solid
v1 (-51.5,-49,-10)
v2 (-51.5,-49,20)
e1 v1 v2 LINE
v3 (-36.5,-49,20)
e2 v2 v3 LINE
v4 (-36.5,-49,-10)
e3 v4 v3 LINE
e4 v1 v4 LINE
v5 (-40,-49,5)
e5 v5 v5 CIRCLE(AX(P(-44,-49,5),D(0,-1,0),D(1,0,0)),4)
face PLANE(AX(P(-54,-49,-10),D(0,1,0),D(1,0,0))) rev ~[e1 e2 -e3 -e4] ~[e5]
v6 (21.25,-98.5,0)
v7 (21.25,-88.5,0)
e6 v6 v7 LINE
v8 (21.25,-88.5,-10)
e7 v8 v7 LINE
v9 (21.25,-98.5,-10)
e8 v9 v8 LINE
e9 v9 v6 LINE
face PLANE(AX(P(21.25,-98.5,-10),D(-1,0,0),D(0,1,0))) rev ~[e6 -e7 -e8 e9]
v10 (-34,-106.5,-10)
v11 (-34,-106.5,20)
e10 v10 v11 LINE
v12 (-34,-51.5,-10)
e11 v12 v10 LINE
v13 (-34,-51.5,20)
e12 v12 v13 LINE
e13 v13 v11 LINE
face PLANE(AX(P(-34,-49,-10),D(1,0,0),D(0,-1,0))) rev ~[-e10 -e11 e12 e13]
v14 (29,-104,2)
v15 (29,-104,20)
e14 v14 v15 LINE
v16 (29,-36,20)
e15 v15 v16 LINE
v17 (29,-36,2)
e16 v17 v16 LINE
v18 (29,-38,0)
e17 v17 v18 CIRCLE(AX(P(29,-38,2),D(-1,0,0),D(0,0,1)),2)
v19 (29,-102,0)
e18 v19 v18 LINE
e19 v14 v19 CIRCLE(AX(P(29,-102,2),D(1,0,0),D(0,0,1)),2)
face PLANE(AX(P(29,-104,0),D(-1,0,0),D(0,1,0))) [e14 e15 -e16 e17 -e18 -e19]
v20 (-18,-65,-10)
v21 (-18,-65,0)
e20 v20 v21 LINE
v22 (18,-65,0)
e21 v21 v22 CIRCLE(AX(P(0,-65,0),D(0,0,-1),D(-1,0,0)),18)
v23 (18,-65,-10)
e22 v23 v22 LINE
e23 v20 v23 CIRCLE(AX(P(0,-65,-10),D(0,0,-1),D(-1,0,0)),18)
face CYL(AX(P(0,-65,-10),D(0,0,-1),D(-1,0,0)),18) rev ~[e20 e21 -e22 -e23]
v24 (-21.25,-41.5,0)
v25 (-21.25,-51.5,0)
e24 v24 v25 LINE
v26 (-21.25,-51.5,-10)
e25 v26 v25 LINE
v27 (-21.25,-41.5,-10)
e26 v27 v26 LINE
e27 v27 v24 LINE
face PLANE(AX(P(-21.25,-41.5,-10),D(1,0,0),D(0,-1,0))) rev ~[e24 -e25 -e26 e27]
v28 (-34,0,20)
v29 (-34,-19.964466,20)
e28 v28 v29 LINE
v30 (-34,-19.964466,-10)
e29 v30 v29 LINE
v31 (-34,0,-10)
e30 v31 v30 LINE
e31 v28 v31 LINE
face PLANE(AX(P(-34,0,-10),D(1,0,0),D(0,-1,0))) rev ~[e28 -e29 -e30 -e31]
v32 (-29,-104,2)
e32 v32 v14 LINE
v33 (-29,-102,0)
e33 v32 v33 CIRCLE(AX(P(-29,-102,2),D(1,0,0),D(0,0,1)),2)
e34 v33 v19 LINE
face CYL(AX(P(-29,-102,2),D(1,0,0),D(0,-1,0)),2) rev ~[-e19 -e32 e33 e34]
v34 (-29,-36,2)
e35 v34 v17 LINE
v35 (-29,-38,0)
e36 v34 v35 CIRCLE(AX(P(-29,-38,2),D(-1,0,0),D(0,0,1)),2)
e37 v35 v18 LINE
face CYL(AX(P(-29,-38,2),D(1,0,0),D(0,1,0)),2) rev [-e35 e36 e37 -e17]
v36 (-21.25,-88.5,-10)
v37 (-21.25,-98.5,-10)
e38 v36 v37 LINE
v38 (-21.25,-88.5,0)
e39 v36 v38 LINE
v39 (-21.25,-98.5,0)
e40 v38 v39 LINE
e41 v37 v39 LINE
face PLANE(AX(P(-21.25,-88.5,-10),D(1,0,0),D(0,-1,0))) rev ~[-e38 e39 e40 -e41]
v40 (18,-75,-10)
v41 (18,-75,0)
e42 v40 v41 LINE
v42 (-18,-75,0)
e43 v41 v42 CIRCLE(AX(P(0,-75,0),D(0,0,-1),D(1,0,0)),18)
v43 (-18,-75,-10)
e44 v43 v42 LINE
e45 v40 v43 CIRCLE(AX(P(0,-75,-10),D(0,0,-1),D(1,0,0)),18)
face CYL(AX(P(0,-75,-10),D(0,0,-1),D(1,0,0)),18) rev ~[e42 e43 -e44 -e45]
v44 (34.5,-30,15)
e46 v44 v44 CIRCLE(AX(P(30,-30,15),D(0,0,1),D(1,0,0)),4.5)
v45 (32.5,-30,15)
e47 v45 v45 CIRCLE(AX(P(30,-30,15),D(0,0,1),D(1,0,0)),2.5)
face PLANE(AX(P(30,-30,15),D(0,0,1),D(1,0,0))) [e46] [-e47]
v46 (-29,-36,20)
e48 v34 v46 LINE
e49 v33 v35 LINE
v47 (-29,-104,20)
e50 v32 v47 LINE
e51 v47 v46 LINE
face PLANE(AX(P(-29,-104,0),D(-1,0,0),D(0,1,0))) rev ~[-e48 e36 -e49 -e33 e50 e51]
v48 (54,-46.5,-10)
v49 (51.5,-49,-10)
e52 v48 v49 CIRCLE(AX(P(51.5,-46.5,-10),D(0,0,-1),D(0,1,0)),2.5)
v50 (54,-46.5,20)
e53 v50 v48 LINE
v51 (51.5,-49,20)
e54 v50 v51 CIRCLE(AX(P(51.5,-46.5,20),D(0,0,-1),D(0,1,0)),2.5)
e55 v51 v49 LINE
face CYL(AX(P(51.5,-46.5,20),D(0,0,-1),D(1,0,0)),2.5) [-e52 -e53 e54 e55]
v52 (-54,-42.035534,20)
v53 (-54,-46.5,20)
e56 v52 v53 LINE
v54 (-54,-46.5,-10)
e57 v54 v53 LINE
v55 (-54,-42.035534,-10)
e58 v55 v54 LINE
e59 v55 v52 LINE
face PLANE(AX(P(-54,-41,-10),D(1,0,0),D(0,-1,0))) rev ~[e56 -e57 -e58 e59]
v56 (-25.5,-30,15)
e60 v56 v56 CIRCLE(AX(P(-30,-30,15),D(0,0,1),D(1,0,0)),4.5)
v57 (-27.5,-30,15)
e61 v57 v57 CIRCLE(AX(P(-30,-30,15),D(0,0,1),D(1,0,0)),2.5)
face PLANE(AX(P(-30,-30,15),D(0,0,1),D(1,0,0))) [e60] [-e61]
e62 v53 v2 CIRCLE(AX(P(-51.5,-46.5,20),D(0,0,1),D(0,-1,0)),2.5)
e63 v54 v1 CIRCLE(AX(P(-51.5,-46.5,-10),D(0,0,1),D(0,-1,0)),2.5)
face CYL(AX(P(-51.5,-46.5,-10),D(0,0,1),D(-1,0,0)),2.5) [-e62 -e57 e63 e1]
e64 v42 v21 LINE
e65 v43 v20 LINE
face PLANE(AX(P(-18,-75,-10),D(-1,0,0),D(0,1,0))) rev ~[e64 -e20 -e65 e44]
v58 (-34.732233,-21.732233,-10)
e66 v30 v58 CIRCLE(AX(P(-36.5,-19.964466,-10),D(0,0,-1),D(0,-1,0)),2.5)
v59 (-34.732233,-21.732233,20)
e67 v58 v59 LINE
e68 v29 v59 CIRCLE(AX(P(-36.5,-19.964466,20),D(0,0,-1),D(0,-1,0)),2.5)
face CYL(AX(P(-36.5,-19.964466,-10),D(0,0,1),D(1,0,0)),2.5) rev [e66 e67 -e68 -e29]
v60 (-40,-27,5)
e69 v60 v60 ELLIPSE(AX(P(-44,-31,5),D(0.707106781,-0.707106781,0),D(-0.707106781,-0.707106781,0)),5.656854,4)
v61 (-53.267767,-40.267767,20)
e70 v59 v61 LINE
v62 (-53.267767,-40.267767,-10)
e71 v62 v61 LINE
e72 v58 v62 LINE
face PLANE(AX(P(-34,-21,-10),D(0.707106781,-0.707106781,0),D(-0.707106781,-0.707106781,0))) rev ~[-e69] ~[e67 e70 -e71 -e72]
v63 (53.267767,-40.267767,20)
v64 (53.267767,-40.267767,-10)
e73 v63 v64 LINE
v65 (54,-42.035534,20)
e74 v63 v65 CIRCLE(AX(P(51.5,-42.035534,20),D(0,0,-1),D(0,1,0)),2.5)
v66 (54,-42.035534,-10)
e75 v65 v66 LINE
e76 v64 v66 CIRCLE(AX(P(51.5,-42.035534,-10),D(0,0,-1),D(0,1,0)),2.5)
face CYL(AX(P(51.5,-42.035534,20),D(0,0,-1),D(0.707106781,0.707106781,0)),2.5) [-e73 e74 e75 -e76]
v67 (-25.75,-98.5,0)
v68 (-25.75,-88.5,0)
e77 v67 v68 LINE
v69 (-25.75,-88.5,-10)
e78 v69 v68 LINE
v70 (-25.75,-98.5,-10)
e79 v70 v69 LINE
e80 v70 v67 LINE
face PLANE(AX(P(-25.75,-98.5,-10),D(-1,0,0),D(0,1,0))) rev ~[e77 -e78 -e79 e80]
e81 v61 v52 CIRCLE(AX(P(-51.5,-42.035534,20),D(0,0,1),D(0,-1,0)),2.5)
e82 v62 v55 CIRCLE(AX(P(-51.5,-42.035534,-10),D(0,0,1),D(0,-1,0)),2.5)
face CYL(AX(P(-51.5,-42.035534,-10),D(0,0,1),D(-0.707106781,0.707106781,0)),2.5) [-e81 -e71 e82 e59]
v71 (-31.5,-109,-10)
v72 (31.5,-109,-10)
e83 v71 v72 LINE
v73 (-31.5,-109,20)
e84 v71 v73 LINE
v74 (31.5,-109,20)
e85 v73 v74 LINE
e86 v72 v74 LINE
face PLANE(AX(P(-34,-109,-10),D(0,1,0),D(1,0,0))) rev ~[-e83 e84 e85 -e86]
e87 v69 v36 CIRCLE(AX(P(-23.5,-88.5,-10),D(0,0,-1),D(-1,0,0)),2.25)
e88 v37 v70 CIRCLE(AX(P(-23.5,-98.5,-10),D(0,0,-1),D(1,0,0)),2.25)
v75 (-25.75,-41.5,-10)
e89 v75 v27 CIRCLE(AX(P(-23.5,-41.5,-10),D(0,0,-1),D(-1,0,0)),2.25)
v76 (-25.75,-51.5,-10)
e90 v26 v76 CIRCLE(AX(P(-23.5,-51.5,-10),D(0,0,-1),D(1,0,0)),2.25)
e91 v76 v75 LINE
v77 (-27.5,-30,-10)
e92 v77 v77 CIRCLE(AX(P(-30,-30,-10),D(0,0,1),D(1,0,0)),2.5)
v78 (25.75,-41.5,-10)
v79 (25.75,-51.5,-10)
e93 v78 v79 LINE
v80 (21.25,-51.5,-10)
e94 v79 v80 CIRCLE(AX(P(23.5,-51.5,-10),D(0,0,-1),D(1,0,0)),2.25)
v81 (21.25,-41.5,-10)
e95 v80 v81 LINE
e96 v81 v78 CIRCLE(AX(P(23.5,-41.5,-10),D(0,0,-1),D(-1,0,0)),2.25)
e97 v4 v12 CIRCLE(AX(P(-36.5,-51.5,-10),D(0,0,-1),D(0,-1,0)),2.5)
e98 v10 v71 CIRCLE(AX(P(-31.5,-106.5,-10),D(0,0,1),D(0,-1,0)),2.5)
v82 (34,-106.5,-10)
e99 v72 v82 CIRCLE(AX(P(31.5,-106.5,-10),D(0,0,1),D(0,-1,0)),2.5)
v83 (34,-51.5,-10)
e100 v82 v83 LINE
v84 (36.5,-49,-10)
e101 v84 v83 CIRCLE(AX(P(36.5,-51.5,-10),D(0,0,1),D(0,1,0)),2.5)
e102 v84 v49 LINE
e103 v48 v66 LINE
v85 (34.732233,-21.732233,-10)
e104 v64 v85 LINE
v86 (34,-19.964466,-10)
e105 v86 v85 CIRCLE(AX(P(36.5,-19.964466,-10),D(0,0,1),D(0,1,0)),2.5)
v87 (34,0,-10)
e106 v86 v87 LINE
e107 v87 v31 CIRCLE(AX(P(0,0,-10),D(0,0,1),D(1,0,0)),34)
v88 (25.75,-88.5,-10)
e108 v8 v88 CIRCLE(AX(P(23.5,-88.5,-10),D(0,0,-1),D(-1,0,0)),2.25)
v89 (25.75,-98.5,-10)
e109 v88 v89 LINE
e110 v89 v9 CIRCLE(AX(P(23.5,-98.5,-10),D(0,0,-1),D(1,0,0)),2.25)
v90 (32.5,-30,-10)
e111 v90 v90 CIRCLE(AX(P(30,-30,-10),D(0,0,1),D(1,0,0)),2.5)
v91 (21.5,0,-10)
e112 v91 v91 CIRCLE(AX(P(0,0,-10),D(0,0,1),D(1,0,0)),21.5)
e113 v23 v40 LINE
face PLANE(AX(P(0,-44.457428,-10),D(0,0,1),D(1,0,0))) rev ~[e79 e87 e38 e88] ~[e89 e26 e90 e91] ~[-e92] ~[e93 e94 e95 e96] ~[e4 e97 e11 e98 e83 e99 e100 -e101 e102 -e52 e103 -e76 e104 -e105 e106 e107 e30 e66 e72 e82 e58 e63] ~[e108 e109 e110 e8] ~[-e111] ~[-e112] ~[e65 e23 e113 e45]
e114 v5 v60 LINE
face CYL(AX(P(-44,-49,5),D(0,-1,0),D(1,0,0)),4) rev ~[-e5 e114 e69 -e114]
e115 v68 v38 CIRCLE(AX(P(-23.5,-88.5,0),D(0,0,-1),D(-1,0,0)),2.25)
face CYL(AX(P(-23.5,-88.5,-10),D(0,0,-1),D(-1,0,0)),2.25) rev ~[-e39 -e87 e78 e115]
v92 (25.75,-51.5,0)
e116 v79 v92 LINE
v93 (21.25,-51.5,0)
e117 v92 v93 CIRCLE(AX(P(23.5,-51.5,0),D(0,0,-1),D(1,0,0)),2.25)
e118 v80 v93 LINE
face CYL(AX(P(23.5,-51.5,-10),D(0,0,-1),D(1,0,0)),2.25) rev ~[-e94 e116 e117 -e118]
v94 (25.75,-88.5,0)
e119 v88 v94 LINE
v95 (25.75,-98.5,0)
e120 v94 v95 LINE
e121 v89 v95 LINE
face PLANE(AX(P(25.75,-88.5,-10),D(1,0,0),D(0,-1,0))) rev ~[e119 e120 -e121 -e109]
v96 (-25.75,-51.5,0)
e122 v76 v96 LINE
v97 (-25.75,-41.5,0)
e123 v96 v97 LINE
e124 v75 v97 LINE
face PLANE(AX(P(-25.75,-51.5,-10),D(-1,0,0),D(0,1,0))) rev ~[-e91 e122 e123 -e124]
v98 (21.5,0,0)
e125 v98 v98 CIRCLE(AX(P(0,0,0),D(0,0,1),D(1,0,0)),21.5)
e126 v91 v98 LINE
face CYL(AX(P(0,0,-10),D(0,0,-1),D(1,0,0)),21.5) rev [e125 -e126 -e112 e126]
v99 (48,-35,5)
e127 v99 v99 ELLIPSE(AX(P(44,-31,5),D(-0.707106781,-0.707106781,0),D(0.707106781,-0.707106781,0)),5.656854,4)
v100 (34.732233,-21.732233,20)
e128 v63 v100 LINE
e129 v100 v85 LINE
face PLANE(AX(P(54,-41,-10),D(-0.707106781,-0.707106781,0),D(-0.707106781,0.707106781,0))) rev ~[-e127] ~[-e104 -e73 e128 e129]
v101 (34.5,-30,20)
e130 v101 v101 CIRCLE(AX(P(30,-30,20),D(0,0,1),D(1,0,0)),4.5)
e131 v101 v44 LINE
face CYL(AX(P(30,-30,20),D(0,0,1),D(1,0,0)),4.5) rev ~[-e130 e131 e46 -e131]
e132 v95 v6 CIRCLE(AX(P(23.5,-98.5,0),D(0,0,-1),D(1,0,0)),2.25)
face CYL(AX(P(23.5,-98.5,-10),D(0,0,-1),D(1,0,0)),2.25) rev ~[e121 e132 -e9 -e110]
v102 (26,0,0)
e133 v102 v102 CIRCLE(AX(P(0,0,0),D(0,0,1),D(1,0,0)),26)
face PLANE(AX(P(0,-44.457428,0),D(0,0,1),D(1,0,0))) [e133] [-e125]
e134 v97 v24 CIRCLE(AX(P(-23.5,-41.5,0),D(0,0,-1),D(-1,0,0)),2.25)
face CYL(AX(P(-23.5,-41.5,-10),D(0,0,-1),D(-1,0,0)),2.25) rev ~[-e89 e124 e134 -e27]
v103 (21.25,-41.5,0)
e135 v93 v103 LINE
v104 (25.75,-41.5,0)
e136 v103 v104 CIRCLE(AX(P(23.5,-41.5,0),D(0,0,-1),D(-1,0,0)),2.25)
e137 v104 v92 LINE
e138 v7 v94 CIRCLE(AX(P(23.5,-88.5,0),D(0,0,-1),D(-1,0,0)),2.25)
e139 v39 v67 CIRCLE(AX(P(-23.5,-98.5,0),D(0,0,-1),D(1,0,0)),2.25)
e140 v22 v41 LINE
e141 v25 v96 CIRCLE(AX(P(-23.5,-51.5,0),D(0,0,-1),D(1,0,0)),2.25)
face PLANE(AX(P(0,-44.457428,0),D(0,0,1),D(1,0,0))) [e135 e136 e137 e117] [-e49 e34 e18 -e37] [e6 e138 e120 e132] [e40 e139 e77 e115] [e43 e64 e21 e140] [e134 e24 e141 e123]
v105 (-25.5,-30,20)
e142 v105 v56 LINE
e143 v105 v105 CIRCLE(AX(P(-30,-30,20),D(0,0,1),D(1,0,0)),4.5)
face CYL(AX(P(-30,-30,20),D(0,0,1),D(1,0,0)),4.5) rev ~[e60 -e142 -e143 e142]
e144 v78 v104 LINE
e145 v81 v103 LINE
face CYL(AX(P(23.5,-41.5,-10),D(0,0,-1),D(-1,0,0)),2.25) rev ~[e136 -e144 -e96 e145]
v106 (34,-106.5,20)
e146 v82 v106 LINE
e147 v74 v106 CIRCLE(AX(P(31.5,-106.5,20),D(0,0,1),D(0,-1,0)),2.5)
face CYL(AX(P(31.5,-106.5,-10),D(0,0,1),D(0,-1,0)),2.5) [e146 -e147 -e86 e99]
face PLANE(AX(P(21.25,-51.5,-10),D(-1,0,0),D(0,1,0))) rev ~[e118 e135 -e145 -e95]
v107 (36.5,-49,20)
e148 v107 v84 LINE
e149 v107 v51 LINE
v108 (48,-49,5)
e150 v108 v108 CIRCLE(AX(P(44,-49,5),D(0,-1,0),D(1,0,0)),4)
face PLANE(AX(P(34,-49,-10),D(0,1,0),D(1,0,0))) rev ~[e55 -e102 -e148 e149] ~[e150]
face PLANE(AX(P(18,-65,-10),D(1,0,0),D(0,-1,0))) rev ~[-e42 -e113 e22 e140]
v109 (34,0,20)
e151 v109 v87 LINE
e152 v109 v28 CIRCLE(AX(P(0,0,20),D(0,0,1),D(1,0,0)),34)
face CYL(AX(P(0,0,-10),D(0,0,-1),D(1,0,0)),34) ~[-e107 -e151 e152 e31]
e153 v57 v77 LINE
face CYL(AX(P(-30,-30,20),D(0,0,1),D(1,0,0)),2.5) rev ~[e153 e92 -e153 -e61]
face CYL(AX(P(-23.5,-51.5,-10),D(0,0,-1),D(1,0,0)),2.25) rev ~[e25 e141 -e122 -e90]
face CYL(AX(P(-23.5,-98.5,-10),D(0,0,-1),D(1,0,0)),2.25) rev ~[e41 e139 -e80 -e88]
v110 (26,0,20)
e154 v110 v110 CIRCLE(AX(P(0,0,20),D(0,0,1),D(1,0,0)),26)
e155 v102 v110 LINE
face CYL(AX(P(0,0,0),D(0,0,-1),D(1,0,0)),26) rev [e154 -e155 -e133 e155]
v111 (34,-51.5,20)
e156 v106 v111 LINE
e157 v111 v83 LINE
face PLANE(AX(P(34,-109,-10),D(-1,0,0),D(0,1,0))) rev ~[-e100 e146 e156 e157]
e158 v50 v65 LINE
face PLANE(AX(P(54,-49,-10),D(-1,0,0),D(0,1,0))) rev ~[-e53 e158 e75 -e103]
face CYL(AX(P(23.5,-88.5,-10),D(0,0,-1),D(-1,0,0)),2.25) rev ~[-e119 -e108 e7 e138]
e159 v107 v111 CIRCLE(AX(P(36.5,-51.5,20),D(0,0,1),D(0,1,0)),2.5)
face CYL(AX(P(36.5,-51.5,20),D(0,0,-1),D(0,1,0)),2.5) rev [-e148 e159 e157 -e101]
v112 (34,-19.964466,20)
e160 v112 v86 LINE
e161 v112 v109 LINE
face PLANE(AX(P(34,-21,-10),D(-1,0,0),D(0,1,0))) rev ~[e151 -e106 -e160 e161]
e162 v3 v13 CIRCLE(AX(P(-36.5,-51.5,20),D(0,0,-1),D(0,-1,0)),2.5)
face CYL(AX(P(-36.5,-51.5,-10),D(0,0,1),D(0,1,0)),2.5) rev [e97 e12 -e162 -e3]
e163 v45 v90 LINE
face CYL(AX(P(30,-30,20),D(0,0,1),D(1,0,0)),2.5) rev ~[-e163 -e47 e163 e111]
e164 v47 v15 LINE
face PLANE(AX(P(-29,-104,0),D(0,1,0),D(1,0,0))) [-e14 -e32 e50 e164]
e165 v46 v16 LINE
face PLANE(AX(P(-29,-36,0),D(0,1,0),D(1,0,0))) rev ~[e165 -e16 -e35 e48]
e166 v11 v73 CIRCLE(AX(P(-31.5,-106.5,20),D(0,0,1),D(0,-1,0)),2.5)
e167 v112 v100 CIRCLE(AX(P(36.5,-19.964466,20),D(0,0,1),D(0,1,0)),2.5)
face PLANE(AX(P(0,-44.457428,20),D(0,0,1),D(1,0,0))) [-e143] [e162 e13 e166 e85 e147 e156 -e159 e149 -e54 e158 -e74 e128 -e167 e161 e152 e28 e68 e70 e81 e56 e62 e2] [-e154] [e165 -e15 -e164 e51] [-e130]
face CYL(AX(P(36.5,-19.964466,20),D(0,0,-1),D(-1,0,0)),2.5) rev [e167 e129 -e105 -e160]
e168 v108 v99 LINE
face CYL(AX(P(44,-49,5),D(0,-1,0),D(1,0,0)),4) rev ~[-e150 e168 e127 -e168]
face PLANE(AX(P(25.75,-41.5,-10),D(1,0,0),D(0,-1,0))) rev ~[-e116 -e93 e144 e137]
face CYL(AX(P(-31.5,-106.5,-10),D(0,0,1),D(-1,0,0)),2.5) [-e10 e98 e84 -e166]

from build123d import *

# Parameters (mm, degrees)
ESQUISSE1_R             = 26
ESQUISSE1_W             = 58
ESQUISSE1_H             = 68
BOSS_EXTRU_1_DEPTH      = 20
BOSS_EXTRU_2_START      = -10
ESQUISSE1_4_R           = 21.5
BOSS_EXTRU_2_DEPTH      = 10
ESQUISSE2_R             = 4
ENL_V_MAT_EXTRU_2_DEPTH = 102.019800039
CONG_1_R                = 2.5
ESQUISSE3_R             = 2.5
ENL_V_MAT_EXTRU_3_DEPTH = 126.287668986
ESQUISSE3_3_R           = 4.5
ESQUISSE3_3_R_2         = 2.5
ENL_V_MAT_EXTRU_4_DEPTH = 5
CONG_3_R                = 2


with BuildPart() as part:
    # Esquisse1 → Boss.-Extru.1 (new body)
    with BuildSketch(Plane.XY):
        with BuildLine():
            Line((-34, 0), (-34, -21))
            Line((-34, -21), (-54, -41))
            Line((-54, -41), (-54, -49))
            Line((-54, -49), (-34, -49))
            Line((-34, -49), (-34, -109))
            Line((-34, -109), (34, -109))
            Line((34, -109), (34, -49))
            Line((34, -49), (54, -49))
            Line((54, -49), (54, -41))
            Line((54, -41), (34, -21))
            Line((34, -21), (34, 0))
            ThreePointArc((34, 0), (0, 34), (-34, 0))
        make_face()
        Circle(ESQUISSE1_R, mode=Mode.SUBTRACT)
        with Locations((0, -70)):
            Rectangle(ESQUISSE1_W, ESQUISSE1_H, mode=Mode.SUBTRACT)
    extrude(amount=BOSS_EXTRU_1_DEPTH)

    # Esquisse1_4 → Boss.-Extru.2 (add)
    with BuildSketch(Plane.XY.offset(BOSS_EXTRU_2_START)):
        with BuildLine():
            Line((-34, 0), (-34, -21))
            Line((-34, -21), (-54, -41))
            Line((-54, -41), (-54, -49))
            Line((-54, -49), (-34, -49))
            Line((-34, -49), (-34, -109))
            Line((-34, -109), (34, -109))
            Line((34, -109), (34, -49))
            Line((34, -49), (54, -49))
            Line((54, -49), (54, -41))
            Line((54, -41), (34, -21))
            Line((34, -21), (34, 0))
            ThreePointArc((34, 0), (0, 34), (-34, 0))
        make_face()
        Circle(ESQUISSE1_4_R, mode=Mode.SUBTRACT)
        with BuildLine():
            Line((-21.25, -41.5), (-21.25, -51.5))
            ThreePointArc((-21.25, -51.5), (-23.5, -53.75), (-25.75, -51.5))
            Line((-25.75, -51.5), (-25.75, -41.5))
            ThreePointArc((-25.75, -41.5), (-23.5, -39.25), (-21.25, -41.5))
        make_face(mode=Mode.SUBTRACT)
        with BuildLine():
            ThreePointArc((-25.75, -88.5), (-23.5, -86.25), (-21.25, -88.5))
            Line((-21.25, -88.5), (-21.25, -98.5))
            ThreePointArc((-21.25, -98.5), (-23.5, -100.75), (-25.75, -98.5))
            Line((-25.75, -98.5), (-25.75, -88.5))
        make_face(mode=Mode.SUBTRACT)
        with BuildLine():
            ThreePointArc((25.75, -98.5), (23.5, -100.75), (21.25, -98.5))
            Line((21.25, -98.5), (21.25, -88.5))
            ThreePointArc((21.25, -88.5), (23.5, -86.25), (25.75, -88.5))
            Line((25.75, -88.5), (25.75, -98.5))
        make_face(mode=Mode.SUBTRACT)
        with BuildLine():
            ThreePointArc((25.75, -51.5), (23.5, -53.75), (21.25, -51.5))
            Line((21.25, -51.5), (21.25, -41.5))
            ThreePointArc((21.25, -41.5), (23.5, -39.25), (25.75, -41.5))
            Line((25.75, -41.5), (25.75, -51.5))
        make_face(mode=Mode.SUBTRACT)
        with BuildLine():
            ThreePointArc((18, -75), (0, -93), (-18, -75))
            Line((-18, -75), (-18, -65))
            ThreePointArc((-18, -65), (0, -47), (18, -65))
            Line((18, -65), (18, -75))
        make_face(mode=Mode.SUBTRACT)
    extrude(amount=BOSS_EXTRU_2_DEPTH)

    # Esquisse2 → Enl_v. mat.-Extru.2 (cut, through all)
    with BuildSketch(Plane.XZ.offset(49)):
        with Locations((44, 5)):
            Circle(ESQUISSE2_R)
        with Locations((-44, 5)):
            Circle(ESQUISSE2_R)
    extrude(amount=-ENL_V_MAT_EXTRU_2_DEPTH, mode=Mode.SUBTRACT)

    # Cong_1
    cong_1_edges = [part.edges().sort_by_distance(p)[0] for p in [
        (34, -21, 5),
        (-34, -21, 5),
        (-54, -41, 5),
        (54, -49, 5),
        (54, -41, 5),
        (-54, -49, 5),
        (-34, -49, 5),
        (-34, -109, 5),
        (34, -109, 5),
        (34, -49, 5),
    ]]
    fillet(cong_1_edges, radius=CONG_1_R)

    # Esquisse3 → Enl_v. mat.-Extru.3 (cut, through all)
    with BuildSketch(Plane.XY.offset(20)):
        with Locations((-30, -30)):
            Circle(ESQUISSE3_R)
        with Locations((30, -30)):
            Circle(ESQUISSE3_R)
    extrude(amount=-ENL_V_MAT_EXTRU_3_DEPTH, mode=Mode.SUBTRACT)

    # Esquisse3_3 → Enl_v. mat.-Extru.4 (cut)
    # profile 1 of 2: a face of its own
    with BuildSketch(Plane.XY.offset(20)):
        with Locations((-30, -30)):
            Circle(ESQUISSE3_3_R)
        with Locations((-30, -30)):
            Circle(ESQUISSE3_3_R_2, mode=Mode.SUBTRACT)
    # profile 2 of 2: a face of its own
    with BuildSketch(Plane.XY.offset(20)):
        with Locations((30, -30)):
            Circle(ESQUISSE3_3_R)
        with Locations((30, -30)):
            Circle(ESQUISSE3_3_R_2, mode=Mode.SUBTRACT)
    extrude(amount=-ENL_V_MAT_EXTRU_4_DEPTH, mode=Mode.SUBTRACT)

    # Cong_3
    cong_3_edges = [part.edges().sort_by_distance(p)[0] for p in [
        (0, -104, 0),
        (0, -36, 0),
    ]]
    fillet(cong_3_edges, radius=CONG_3_R)


solid = part.part
